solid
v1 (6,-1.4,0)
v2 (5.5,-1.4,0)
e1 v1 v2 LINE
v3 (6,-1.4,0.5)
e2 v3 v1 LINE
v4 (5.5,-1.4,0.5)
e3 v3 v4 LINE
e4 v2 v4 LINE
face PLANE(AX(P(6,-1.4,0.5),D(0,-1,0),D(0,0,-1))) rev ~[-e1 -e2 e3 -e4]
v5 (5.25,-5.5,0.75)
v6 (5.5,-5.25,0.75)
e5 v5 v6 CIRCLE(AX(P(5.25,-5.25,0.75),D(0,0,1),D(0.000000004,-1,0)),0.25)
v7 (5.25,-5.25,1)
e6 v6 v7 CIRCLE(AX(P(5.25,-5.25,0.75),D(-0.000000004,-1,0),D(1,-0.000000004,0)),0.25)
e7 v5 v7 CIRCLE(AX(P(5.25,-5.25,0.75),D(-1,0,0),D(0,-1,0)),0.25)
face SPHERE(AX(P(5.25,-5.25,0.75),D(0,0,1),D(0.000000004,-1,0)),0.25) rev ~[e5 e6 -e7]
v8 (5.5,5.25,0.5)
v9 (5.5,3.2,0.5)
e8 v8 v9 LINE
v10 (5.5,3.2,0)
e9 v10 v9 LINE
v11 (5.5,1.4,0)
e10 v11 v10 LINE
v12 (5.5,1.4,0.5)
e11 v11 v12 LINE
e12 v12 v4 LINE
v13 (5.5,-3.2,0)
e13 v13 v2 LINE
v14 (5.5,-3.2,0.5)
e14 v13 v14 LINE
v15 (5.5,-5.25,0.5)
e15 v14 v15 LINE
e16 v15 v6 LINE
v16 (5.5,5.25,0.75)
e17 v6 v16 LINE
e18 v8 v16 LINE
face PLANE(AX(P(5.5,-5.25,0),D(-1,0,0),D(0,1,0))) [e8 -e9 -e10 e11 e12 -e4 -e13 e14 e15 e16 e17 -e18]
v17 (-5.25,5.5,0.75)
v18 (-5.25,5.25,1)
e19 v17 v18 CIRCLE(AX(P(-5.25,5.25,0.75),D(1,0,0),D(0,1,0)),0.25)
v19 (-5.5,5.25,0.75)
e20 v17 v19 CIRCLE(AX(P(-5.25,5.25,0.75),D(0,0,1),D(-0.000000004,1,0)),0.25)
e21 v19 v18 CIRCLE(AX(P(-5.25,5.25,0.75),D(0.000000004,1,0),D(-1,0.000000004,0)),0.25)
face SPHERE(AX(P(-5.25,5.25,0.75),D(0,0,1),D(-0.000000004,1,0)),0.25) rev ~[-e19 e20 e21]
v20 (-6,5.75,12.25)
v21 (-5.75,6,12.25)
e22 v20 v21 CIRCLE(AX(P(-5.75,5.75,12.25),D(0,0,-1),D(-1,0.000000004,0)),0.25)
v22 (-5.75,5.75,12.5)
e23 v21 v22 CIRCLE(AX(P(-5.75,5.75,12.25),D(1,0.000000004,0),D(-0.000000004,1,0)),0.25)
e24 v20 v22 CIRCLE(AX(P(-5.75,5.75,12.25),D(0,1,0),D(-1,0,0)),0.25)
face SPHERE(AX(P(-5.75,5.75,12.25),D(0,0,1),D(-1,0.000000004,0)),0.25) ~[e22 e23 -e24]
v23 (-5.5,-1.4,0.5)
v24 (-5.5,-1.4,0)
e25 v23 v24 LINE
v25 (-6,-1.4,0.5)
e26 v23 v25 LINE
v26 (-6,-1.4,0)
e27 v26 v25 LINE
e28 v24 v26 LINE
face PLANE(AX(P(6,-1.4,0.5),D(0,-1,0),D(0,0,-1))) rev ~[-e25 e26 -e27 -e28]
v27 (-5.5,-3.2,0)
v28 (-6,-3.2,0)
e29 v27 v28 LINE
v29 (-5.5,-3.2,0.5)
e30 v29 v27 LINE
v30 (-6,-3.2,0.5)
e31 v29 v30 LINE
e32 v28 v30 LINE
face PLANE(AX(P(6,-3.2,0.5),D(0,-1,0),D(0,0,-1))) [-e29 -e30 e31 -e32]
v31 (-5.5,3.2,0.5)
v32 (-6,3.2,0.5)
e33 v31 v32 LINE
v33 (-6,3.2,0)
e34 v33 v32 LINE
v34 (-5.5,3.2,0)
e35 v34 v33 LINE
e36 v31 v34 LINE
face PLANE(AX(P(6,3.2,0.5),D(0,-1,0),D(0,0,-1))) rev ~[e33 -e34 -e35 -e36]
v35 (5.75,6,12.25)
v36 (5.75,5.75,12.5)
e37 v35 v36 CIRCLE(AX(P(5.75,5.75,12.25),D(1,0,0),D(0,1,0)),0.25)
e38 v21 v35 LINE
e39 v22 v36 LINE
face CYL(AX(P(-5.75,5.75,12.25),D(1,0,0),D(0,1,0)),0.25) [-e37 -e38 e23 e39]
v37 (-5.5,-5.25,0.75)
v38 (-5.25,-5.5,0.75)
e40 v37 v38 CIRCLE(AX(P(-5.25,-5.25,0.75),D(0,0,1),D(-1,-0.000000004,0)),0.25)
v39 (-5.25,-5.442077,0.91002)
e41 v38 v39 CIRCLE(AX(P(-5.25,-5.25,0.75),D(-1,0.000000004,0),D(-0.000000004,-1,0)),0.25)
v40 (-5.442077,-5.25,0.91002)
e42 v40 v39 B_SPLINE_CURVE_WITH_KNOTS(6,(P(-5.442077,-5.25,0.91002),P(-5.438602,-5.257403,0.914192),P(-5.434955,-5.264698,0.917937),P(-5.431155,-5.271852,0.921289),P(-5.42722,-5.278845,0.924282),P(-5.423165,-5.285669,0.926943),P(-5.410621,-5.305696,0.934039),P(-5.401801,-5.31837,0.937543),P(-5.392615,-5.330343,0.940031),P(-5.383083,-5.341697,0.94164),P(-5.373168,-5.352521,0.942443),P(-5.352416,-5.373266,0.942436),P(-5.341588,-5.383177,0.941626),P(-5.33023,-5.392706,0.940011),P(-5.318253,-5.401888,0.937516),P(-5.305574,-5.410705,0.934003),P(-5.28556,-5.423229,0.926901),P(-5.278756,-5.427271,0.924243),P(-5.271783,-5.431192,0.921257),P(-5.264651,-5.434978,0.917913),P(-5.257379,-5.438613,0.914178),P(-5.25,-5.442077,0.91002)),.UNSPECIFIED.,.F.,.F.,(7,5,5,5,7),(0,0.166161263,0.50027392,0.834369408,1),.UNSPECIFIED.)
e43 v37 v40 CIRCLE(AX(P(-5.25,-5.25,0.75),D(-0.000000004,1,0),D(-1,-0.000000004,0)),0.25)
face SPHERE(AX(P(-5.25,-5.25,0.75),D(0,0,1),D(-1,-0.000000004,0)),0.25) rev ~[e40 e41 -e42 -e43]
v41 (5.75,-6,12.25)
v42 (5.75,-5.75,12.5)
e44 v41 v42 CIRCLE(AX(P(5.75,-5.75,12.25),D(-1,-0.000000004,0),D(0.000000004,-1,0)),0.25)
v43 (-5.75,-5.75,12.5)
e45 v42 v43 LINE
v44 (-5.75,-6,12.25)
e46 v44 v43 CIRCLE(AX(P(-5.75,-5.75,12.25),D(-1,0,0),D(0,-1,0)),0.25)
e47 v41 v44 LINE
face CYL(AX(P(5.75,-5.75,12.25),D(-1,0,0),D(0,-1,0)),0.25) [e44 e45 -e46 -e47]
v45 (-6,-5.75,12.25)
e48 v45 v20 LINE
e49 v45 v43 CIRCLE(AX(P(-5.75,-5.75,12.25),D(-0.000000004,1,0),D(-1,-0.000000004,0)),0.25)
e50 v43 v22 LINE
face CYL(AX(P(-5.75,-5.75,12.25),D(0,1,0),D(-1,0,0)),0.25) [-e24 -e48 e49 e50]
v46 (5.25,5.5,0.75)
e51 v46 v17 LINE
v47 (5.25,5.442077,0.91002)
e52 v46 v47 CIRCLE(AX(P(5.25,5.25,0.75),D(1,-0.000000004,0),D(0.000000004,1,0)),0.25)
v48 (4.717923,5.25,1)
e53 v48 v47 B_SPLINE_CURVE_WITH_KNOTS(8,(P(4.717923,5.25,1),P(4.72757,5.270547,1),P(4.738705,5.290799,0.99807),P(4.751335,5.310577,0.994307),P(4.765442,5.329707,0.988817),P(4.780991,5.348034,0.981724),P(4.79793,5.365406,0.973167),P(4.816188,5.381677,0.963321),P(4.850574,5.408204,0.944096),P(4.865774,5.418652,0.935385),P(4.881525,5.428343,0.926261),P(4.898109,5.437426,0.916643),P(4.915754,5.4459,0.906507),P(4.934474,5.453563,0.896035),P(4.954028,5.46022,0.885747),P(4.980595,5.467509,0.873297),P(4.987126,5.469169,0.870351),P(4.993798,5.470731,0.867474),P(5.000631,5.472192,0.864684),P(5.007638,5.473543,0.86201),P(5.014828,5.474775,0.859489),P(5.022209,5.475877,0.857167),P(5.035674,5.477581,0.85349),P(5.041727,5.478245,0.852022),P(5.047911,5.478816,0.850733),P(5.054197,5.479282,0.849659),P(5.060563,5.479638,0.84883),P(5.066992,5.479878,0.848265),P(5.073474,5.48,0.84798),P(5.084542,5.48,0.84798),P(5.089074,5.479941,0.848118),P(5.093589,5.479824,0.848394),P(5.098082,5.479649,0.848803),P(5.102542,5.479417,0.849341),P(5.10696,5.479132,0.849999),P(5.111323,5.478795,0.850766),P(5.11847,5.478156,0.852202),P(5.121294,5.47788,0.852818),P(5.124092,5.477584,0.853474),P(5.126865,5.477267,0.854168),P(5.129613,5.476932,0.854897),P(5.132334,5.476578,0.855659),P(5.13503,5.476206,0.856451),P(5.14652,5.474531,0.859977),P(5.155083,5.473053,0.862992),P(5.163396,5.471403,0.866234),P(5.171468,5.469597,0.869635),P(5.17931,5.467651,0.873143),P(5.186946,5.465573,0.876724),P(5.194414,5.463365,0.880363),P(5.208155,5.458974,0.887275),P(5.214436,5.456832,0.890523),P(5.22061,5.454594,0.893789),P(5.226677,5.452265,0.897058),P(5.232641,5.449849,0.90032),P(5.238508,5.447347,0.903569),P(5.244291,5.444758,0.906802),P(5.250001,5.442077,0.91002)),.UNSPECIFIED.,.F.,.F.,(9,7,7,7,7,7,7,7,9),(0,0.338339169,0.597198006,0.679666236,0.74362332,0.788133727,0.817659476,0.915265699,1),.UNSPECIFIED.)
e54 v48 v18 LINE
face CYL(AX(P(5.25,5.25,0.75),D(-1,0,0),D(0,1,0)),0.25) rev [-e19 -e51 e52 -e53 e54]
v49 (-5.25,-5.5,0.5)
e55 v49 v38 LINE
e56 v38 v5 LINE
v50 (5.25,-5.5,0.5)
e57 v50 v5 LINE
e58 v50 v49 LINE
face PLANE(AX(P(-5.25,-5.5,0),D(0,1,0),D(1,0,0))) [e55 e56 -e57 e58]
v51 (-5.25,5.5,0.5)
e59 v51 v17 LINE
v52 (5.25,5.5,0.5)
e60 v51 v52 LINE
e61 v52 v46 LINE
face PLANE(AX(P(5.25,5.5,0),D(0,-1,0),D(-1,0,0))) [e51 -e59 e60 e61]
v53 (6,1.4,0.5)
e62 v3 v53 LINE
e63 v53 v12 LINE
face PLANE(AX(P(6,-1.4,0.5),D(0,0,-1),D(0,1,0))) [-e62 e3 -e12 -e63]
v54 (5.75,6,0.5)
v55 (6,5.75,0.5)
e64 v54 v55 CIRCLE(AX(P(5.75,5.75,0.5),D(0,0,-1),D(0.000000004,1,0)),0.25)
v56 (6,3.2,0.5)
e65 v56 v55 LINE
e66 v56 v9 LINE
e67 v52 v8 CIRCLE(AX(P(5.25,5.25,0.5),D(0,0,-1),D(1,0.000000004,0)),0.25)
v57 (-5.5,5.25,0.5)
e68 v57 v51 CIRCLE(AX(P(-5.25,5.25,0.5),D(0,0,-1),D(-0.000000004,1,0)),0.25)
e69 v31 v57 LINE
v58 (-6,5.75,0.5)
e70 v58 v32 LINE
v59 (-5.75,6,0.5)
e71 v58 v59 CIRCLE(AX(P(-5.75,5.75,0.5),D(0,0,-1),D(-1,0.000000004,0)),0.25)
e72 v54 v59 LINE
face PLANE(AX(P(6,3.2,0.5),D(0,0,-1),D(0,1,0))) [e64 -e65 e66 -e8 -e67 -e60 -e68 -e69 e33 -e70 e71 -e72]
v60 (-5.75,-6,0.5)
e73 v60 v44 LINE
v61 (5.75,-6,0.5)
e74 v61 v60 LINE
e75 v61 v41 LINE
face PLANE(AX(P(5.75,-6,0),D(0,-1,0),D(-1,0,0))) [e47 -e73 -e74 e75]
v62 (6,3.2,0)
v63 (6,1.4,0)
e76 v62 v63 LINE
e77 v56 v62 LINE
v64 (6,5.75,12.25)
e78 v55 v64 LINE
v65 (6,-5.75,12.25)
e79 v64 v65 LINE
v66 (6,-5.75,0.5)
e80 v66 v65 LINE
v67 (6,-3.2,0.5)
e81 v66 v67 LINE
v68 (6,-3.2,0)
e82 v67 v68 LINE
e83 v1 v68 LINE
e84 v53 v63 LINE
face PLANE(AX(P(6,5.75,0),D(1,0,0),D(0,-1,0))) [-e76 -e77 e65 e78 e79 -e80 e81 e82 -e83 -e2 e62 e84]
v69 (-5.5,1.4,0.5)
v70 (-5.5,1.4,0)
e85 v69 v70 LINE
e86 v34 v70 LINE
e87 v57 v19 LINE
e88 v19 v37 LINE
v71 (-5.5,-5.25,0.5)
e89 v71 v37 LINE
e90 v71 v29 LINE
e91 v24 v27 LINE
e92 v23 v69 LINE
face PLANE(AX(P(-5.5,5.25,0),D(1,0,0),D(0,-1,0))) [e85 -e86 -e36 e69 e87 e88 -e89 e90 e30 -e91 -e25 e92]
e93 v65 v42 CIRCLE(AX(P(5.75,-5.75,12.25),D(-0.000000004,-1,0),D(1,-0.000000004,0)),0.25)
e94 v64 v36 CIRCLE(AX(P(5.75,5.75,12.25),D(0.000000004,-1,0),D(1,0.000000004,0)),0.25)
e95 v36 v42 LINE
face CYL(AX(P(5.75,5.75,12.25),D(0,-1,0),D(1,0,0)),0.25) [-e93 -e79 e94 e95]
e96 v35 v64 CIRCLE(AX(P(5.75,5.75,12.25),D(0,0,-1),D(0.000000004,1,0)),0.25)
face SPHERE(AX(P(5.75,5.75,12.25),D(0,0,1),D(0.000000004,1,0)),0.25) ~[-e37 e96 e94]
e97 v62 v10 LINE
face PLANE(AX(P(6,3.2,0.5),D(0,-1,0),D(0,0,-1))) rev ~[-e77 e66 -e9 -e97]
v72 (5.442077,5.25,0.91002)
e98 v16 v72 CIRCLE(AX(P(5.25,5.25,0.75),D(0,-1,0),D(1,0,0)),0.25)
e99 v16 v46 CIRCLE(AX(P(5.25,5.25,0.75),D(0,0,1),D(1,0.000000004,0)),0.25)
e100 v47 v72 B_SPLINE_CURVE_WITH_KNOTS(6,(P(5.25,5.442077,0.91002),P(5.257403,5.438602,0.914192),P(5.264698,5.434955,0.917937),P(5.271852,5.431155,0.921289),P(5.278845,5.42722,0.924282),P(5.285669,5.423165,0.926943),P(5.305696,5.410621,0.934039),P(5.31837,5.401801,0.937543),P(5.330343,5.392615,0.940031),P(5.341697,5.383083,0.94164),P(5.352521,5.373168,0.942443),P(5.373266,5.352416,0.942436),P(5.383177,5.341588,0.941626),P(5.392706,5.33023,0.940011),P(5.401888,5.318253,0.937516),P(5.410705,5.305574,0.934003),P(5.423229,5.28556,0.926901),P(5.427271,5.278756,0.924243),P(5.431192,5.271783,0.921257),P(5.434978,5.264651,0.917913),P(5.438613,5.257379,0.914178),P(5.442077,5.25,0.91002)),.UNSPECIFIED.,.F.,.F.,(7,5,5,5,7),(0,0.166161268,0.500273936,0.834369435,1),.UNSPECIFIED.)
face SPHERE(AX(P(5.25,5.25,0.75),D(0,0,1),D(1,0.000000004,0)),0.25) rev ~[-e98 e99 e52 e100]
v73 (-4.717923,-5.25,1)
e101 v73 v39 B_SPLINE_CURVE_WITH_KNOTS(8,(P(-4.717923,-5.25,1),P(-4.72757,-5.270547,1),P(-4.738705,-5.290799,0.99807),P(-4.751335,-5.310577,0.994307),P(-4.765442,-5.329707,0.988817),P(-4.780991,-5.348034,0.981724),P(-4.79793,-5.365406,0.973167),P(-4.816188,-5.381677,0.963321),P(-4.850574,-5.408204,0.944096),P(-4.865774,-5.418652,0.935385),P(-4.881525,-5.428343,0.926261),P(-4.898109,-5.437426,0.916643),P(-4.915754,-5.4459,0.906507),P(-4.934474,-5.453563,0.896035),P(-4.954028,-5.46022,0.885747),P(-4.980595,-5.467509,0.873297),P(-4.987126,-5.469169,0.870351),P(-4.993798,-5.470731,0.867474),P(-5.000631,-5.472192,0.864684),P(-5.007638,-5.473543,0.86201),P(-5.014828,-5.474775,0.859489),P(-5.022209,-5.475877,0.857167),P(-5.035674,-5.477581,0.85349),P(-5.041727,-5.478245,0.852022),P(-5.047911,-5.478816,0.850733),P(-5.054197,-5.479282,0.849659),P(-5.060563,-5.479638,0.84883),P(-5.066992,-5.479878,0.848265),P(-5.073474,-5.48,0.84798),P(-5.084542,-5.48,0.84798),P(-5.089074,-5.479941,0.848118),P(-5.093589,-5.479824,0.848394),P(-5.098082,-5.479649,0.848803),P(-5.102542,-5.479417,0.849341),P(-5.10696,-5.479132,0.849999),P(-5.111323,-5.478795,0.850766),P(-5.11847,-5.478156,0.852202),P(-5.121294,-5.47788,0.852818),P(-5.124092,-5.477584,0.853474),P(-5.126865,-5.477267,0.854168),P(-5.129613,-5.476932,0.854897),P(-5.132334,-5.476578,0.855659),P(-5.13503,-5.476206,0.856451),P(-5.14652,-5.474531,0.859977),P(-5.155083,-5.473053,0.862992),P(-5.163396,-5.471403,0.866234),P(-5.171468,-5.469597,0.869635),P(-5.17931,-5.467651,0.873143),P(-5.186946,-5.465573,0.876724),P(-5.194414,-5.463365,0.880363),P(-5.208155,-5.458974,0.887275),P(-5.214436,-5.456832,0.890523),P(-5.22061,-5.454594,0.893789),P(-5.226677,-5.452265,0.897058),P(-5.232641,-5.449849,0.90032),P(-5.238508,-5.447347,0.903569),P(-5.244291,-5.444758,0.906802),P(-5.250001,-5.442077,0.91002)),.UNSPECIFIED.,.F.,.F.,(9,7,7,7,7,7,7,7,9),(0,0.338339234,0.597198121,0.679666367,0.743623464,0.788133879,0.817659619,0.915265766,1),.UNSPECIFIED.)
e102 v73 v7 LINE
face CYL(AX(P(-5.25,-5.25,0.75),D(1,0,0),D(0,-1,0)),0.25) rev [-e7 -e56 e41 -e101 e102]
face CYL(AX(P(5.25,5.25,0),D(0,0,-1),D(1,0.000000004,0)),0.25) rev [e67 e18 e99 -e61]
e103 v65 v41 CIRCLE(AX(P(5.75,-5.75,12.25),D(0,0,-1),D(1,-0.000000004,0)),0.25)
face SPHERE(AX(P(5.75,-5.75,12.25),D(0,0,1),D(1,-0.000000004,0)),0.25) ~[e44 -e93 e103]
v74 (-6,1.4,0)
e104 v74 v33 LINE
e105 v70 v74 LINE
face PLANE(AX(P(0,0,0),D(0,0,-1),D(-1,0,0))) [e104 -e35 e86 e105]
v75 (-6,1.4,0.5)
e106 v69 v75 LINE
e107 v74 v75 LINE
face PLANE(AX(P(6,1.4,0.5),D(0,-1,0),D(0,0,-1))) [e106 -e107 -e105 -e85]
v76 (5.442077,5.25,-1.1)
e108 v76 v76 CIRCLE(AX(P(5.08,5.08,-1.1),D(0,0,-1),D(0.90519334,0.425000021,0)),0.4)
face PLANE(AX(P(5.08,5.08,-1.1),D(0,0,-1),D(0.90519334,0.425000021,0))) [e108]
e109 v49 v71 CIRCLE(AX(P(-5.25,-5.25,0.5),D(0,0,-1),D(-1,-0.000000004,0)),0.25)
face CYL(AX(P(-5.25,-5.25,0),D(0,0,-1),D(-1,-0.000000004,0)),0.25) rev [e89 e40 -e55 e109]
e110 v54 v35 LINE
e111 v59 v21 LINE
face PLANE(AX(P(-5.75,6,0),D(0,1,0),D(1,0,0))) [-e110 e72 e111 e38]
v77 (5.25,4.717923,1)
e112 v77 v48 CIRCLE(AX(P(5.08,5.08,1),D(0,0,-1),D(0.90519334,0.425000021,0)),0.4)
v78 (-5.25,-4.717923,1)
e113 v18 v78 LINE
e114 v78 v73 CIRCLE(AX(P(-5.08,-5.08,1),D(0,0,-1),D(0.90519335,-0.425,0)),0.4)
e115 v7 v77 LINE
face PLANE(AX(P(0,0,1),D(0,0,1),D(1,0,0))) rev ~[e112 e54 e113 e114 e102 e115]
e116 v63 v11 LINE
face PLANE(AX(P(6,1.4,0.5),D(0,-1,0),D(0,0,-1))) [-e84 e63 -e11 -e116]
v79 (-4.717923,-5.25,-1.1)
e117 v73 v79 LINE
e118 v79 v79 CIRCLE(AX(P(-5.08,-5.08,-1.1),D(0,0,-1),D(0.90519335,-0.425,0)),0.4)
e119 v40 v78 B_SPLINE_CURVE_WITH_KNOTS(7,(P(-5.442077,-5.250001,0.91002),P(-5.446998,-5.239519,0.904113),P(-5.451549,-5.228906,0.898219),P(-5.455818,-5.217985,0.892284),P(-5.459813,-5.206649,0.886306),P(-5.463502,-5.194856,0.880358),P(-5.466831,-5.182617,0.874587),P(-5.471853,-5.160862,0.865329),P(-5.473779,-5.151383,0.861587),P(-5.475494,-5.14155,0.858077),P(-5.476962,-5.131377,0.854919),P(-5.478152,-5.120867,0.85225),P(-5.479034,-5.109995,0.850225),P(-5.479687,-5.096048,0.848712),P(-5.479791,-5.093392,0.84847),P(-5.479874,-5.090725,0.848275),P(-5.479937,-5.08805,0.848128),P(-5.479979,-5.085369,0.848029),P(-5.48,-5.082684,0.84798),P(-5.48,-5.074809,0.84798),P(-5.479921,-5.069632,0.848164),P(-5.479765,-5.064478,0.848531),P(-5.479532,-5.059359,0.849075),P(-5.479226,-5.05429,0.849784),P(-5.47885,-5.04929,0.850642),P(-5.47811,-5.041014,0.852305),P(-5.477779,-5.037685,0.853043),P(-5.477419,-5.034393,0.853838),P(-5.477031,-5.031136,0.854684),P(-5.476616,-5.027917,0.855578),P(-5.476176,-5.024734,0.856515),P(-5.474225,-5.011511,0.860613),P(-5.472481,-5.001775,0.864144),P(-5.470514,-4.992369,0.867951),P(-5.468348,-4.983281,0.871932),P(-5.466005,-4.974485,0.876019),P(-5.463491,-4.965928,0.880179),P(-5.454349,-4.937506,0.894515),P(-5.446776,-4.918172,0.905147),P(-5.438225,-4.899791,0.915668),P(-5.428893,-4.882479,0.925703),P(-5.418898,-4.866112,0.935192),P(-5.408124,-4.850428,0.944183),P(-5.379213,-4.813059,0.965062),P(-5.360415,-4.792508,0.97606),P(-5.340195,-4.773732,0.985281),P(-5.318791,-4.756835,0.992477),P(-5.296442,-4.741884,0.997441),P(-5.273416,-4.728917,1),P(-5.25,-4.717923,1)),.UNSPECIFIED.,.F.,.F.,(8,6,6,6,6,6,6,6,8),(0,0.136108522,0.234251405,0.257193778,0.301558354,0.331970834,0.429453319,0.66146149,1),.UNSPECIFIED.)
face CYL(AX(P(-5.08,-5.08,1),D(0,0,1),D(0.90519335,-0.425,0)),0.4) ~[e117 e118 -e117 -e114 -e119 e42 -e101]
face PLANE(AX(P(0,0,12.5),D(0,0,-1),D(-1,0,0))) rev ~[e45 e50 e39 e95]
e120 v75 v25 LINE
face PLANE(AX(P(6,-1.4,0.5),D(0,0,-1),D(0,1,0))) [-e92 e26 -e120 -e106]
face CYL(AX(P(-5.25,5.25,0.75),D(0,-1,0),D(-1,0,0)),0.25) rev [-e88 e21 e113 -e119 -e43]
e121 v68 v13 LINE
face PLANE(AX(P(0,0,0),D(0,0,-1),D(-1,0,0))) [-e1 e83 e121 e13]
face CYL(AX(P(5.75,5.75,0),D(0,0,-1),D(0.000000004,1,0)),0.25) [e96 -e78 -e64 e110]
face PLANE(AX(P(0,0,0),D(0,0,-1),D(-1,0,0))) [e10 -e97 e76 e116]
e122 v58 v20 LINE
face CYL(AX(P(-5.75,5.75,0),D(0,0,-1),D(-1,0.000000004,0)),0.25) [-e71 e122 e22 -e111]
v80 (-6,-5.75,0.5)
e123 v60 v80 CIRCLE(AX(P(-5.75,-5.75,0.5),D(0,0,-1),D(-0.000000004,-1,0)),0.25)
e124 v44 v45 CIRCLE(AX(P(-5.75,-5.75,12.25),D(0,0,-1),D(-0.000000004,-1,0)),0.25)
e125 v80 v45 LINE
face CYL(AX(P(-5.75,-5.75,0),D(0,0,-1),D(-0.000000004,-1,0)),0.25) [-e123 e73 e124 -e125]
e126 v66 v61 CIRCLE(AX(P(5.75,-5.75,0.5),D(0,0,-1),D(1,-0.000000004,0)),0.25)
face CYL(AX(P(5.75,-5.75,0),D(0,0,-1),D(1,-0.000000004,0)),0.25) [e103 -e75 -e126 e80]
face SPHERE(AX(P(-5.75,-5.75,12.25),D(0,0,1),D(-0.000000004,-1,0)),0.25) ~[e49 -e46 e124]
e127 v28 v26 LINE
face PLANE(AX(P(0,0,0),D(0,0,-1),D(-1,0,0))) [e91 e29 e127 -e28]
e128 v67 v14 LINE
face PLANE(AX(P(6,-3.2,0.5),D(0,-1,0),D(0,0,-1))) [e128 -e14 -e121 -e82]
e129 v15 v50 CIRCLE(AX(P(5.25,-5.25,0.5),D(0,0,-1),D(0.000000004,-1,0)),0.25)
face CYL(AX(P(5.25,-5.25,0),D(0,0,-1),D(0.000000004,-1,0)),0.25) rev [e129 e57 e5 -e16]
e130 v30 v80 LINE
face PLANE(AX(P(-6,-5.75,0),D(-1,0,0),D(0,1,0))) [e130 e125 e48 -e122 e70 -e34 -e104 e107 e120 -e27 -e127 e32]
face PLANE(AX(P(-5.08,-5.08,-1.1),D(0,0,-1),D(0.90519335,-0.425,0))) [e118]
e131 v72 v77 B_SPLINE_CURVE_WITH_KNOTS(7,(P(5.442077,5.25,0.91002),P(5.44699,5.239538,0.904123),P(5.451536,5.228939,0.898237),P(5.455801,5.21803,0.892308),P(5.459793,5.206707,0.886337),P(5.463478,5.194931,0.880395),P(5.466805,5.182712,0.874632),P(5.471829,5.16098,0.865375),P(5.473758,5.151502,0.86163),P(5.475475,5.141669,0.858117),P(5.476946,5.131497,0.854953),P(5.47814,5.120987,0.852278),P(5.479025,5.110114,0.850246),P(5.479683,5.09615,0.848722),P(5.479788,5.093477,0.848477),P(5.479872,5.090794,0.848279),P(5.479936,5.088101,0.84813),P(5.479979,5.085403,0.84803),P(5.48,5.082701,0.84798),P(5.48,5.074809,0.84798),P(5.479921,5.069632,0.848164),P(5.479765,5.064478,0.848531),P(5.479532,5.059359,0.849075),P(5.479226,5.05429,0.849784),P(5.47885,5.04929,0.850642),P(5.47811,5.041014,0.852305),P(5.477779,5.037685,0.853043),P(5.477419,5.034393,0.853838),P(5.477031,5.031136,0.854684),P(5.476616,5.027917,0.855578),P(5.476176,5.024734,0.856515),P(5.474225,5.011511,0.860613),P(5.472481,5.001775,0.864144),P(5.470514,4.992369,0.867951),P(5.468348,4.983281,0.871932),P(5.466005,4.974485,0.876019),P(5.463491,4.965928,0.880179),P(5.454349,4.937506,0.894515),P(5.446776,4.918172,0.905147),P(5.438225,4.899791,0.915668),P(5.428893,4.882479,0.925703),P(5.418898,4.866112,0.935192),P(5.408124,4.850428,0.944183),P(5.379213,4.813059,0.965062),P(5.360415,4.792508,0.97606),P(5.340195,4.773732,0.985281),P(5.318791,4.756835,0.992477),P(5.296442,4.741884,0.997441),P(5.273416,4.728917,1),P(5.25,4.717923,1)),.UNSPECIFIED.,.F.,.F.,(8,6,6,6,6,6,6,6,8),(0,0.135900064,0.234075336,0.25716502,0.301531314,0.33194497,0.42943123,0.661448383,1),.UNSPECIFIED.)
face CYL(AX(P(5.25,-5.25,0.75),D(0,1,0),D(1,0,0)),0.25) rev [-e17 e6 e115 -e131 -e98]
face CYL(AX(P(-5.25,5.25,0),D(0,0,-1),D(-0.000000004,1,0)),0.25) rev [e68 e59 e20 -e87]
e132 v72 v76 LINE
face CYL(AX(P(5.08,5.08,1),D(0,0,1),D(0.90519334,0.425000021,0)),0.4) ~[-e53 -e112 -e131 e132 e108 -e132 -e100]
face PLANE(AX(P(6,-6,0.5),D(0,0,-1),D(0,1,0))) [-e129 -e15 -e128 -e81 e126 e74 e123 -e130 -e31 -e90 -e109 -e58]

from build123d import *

# Parameters (mm, degrees)
BOSS_EXTRUDE1_DEPTH = 12.5
CUT_EXTRUDE1_DEPTH  = 1
SKETCH3_W           = 0.5
SKETCH3_H           = 2.8
CUT_EXTRUDE2_DEPTH  = 20
FILLET1_R           = 0.25
FILLET2_R           = 0.25
SKETCH4_R           = 0.4
BOSS_EXTRUDE2_DEPTH = 2.1


with BuildPart() as part:
    # Sketch1 → Boss-Extrude1 (new body)
    with BuildSketch(Plane.XY):
        with BuildLine():
            Line((-5.75, 6), (5.75, 6))
            ThreePointArc((5.75, 6), (5.926776695, 5.926776695), (6, 5.75))
            Line((6, 5.75), (6, -5.75))
            ThreePointArc((6, -5.75), (5.926776695, -5.926776695), (5.75, -6))
            Line((5.75, -6), (-5.75, -6))
            ThreePointArc((-5.75, -6), (-5.926776695, -5.926776695), (-6, -5.75))
            Line((-6, -5.75), (-6, 5.75))
            ThreePointArc((-6, 5.75), (-5.926776695, 5.926776695), (-5.75, 6))
        make_face()
    extrude(amount=BOSS_EXTRUDE1_DEPTH)

    # Sketch2 → Cut-Extrude1 (cut)
    with BuildSketch(Plane(origin=(0, 0, 0), x_dir=(-1, 0, 0), z_dir=(0, 0, -1))):
        with BuildLine():
            Line((5.25, -5.5), (-5.25, -5.5))
            ThreePointArc((-5.25, -5.5), (-5.426776695, -5.426776695), (-5.5, -5.25))
            Line((-5.5, -5.25), (-5.5, 5.25))
            ThreePointArc((-5.5, 5.25), (-5.426776695, 5.426776695), (-5.25, 5.5))
            Line((-5.25, 5.5), (5.25, 5.5))
            ThreePointArc((5.25, 5.5), (5.426776695, 5.426776695), (5.5, 5.25))
            Line((5.5, 5.25), (5.5, -5.25))
            ThreePointArc((5.5, -5.25), (5.426776695, -5.426776695), (5.25, -5.5))
        make_face()
    extrude(amount=-CUT_EXTRUDE1_DEPTH, mode=Mode.SUBTRACT)

    # Sketch3 → Cut-Extrude2 (cut)
    with BuildSketch(Plane(origin=(6, 0, 0), x_dir=(0, 0, -1), z_dir=(1, 0, 0))):
        with Locations((-0.25, 0)):
            Rectangle(SKETCH3_W, SKETCH3_H)
        with Locations((-0.25, 4.6)):
            Rectangle(SKETCH3_W, SKETCH3_H)
        with Locations((-0.25, -4.6)):
            Rectangle(SKETCH3_W, SKETCH3_H)
    extrude(amount=-CUT_EXTRUDE2_DEPTH, mode=Mode.SUBTRACT)

    # Fillet1
    fillet1_edges = [part.edges().sort_by_distance(p)[0] for p in [
        (-5.426776695, -5.426776695, 1),
        (0, -5.5, 1),
        (5.426776695, -5.426776695, 1),
        (5.5, 0, 1),
        (5.426776695, 5.426776695, 1),
        (0, 5.5, 1),
        (-5.426776695, 5.426776695, 1),
        (-5.5, 0, 1),
    ]]
    fillet(fillet1_edges, radius=FILLET1_R)

    # Fillet2
    fillet2_edges = [part.edges().sort_by_distance(p)[0] for p in [
        (5.926776695, -5.926776695, 12.5),
        (6, 0, 12.5),
        (5.926776695, 5.926776695, 12.5),
        (0, 6, 12.5),
        (-5.926776695, 5.926776695, 12.5),
        (-6, 0, 12.5),
        (-5.926776695, -5.926776695, 12.5),
        (0, -6, 12.5),
    ]]
    fillet(fillet2_edges, radius=FILLET2_R)

    # Sketch4 → Boss-Extrude2 (add)
    with BuildSketch(Plane(origin=(0, 0, 1), x_dir=(-1, 0, 0), z_dir=(0, 0, -1))):
        with Locations(Location((-5.08, 5.08, 0), (0, 0, 154.849335249))):
            Circle(SKETCH4_R)
        with Locations(Location((5.08, -5.08, 0), (0, 0, 205.150663413))):
            Circle(SKETCH4_R)
    extrude(amount=BOSS_EXTRUDE2_DEPTH)


solid = part.part
